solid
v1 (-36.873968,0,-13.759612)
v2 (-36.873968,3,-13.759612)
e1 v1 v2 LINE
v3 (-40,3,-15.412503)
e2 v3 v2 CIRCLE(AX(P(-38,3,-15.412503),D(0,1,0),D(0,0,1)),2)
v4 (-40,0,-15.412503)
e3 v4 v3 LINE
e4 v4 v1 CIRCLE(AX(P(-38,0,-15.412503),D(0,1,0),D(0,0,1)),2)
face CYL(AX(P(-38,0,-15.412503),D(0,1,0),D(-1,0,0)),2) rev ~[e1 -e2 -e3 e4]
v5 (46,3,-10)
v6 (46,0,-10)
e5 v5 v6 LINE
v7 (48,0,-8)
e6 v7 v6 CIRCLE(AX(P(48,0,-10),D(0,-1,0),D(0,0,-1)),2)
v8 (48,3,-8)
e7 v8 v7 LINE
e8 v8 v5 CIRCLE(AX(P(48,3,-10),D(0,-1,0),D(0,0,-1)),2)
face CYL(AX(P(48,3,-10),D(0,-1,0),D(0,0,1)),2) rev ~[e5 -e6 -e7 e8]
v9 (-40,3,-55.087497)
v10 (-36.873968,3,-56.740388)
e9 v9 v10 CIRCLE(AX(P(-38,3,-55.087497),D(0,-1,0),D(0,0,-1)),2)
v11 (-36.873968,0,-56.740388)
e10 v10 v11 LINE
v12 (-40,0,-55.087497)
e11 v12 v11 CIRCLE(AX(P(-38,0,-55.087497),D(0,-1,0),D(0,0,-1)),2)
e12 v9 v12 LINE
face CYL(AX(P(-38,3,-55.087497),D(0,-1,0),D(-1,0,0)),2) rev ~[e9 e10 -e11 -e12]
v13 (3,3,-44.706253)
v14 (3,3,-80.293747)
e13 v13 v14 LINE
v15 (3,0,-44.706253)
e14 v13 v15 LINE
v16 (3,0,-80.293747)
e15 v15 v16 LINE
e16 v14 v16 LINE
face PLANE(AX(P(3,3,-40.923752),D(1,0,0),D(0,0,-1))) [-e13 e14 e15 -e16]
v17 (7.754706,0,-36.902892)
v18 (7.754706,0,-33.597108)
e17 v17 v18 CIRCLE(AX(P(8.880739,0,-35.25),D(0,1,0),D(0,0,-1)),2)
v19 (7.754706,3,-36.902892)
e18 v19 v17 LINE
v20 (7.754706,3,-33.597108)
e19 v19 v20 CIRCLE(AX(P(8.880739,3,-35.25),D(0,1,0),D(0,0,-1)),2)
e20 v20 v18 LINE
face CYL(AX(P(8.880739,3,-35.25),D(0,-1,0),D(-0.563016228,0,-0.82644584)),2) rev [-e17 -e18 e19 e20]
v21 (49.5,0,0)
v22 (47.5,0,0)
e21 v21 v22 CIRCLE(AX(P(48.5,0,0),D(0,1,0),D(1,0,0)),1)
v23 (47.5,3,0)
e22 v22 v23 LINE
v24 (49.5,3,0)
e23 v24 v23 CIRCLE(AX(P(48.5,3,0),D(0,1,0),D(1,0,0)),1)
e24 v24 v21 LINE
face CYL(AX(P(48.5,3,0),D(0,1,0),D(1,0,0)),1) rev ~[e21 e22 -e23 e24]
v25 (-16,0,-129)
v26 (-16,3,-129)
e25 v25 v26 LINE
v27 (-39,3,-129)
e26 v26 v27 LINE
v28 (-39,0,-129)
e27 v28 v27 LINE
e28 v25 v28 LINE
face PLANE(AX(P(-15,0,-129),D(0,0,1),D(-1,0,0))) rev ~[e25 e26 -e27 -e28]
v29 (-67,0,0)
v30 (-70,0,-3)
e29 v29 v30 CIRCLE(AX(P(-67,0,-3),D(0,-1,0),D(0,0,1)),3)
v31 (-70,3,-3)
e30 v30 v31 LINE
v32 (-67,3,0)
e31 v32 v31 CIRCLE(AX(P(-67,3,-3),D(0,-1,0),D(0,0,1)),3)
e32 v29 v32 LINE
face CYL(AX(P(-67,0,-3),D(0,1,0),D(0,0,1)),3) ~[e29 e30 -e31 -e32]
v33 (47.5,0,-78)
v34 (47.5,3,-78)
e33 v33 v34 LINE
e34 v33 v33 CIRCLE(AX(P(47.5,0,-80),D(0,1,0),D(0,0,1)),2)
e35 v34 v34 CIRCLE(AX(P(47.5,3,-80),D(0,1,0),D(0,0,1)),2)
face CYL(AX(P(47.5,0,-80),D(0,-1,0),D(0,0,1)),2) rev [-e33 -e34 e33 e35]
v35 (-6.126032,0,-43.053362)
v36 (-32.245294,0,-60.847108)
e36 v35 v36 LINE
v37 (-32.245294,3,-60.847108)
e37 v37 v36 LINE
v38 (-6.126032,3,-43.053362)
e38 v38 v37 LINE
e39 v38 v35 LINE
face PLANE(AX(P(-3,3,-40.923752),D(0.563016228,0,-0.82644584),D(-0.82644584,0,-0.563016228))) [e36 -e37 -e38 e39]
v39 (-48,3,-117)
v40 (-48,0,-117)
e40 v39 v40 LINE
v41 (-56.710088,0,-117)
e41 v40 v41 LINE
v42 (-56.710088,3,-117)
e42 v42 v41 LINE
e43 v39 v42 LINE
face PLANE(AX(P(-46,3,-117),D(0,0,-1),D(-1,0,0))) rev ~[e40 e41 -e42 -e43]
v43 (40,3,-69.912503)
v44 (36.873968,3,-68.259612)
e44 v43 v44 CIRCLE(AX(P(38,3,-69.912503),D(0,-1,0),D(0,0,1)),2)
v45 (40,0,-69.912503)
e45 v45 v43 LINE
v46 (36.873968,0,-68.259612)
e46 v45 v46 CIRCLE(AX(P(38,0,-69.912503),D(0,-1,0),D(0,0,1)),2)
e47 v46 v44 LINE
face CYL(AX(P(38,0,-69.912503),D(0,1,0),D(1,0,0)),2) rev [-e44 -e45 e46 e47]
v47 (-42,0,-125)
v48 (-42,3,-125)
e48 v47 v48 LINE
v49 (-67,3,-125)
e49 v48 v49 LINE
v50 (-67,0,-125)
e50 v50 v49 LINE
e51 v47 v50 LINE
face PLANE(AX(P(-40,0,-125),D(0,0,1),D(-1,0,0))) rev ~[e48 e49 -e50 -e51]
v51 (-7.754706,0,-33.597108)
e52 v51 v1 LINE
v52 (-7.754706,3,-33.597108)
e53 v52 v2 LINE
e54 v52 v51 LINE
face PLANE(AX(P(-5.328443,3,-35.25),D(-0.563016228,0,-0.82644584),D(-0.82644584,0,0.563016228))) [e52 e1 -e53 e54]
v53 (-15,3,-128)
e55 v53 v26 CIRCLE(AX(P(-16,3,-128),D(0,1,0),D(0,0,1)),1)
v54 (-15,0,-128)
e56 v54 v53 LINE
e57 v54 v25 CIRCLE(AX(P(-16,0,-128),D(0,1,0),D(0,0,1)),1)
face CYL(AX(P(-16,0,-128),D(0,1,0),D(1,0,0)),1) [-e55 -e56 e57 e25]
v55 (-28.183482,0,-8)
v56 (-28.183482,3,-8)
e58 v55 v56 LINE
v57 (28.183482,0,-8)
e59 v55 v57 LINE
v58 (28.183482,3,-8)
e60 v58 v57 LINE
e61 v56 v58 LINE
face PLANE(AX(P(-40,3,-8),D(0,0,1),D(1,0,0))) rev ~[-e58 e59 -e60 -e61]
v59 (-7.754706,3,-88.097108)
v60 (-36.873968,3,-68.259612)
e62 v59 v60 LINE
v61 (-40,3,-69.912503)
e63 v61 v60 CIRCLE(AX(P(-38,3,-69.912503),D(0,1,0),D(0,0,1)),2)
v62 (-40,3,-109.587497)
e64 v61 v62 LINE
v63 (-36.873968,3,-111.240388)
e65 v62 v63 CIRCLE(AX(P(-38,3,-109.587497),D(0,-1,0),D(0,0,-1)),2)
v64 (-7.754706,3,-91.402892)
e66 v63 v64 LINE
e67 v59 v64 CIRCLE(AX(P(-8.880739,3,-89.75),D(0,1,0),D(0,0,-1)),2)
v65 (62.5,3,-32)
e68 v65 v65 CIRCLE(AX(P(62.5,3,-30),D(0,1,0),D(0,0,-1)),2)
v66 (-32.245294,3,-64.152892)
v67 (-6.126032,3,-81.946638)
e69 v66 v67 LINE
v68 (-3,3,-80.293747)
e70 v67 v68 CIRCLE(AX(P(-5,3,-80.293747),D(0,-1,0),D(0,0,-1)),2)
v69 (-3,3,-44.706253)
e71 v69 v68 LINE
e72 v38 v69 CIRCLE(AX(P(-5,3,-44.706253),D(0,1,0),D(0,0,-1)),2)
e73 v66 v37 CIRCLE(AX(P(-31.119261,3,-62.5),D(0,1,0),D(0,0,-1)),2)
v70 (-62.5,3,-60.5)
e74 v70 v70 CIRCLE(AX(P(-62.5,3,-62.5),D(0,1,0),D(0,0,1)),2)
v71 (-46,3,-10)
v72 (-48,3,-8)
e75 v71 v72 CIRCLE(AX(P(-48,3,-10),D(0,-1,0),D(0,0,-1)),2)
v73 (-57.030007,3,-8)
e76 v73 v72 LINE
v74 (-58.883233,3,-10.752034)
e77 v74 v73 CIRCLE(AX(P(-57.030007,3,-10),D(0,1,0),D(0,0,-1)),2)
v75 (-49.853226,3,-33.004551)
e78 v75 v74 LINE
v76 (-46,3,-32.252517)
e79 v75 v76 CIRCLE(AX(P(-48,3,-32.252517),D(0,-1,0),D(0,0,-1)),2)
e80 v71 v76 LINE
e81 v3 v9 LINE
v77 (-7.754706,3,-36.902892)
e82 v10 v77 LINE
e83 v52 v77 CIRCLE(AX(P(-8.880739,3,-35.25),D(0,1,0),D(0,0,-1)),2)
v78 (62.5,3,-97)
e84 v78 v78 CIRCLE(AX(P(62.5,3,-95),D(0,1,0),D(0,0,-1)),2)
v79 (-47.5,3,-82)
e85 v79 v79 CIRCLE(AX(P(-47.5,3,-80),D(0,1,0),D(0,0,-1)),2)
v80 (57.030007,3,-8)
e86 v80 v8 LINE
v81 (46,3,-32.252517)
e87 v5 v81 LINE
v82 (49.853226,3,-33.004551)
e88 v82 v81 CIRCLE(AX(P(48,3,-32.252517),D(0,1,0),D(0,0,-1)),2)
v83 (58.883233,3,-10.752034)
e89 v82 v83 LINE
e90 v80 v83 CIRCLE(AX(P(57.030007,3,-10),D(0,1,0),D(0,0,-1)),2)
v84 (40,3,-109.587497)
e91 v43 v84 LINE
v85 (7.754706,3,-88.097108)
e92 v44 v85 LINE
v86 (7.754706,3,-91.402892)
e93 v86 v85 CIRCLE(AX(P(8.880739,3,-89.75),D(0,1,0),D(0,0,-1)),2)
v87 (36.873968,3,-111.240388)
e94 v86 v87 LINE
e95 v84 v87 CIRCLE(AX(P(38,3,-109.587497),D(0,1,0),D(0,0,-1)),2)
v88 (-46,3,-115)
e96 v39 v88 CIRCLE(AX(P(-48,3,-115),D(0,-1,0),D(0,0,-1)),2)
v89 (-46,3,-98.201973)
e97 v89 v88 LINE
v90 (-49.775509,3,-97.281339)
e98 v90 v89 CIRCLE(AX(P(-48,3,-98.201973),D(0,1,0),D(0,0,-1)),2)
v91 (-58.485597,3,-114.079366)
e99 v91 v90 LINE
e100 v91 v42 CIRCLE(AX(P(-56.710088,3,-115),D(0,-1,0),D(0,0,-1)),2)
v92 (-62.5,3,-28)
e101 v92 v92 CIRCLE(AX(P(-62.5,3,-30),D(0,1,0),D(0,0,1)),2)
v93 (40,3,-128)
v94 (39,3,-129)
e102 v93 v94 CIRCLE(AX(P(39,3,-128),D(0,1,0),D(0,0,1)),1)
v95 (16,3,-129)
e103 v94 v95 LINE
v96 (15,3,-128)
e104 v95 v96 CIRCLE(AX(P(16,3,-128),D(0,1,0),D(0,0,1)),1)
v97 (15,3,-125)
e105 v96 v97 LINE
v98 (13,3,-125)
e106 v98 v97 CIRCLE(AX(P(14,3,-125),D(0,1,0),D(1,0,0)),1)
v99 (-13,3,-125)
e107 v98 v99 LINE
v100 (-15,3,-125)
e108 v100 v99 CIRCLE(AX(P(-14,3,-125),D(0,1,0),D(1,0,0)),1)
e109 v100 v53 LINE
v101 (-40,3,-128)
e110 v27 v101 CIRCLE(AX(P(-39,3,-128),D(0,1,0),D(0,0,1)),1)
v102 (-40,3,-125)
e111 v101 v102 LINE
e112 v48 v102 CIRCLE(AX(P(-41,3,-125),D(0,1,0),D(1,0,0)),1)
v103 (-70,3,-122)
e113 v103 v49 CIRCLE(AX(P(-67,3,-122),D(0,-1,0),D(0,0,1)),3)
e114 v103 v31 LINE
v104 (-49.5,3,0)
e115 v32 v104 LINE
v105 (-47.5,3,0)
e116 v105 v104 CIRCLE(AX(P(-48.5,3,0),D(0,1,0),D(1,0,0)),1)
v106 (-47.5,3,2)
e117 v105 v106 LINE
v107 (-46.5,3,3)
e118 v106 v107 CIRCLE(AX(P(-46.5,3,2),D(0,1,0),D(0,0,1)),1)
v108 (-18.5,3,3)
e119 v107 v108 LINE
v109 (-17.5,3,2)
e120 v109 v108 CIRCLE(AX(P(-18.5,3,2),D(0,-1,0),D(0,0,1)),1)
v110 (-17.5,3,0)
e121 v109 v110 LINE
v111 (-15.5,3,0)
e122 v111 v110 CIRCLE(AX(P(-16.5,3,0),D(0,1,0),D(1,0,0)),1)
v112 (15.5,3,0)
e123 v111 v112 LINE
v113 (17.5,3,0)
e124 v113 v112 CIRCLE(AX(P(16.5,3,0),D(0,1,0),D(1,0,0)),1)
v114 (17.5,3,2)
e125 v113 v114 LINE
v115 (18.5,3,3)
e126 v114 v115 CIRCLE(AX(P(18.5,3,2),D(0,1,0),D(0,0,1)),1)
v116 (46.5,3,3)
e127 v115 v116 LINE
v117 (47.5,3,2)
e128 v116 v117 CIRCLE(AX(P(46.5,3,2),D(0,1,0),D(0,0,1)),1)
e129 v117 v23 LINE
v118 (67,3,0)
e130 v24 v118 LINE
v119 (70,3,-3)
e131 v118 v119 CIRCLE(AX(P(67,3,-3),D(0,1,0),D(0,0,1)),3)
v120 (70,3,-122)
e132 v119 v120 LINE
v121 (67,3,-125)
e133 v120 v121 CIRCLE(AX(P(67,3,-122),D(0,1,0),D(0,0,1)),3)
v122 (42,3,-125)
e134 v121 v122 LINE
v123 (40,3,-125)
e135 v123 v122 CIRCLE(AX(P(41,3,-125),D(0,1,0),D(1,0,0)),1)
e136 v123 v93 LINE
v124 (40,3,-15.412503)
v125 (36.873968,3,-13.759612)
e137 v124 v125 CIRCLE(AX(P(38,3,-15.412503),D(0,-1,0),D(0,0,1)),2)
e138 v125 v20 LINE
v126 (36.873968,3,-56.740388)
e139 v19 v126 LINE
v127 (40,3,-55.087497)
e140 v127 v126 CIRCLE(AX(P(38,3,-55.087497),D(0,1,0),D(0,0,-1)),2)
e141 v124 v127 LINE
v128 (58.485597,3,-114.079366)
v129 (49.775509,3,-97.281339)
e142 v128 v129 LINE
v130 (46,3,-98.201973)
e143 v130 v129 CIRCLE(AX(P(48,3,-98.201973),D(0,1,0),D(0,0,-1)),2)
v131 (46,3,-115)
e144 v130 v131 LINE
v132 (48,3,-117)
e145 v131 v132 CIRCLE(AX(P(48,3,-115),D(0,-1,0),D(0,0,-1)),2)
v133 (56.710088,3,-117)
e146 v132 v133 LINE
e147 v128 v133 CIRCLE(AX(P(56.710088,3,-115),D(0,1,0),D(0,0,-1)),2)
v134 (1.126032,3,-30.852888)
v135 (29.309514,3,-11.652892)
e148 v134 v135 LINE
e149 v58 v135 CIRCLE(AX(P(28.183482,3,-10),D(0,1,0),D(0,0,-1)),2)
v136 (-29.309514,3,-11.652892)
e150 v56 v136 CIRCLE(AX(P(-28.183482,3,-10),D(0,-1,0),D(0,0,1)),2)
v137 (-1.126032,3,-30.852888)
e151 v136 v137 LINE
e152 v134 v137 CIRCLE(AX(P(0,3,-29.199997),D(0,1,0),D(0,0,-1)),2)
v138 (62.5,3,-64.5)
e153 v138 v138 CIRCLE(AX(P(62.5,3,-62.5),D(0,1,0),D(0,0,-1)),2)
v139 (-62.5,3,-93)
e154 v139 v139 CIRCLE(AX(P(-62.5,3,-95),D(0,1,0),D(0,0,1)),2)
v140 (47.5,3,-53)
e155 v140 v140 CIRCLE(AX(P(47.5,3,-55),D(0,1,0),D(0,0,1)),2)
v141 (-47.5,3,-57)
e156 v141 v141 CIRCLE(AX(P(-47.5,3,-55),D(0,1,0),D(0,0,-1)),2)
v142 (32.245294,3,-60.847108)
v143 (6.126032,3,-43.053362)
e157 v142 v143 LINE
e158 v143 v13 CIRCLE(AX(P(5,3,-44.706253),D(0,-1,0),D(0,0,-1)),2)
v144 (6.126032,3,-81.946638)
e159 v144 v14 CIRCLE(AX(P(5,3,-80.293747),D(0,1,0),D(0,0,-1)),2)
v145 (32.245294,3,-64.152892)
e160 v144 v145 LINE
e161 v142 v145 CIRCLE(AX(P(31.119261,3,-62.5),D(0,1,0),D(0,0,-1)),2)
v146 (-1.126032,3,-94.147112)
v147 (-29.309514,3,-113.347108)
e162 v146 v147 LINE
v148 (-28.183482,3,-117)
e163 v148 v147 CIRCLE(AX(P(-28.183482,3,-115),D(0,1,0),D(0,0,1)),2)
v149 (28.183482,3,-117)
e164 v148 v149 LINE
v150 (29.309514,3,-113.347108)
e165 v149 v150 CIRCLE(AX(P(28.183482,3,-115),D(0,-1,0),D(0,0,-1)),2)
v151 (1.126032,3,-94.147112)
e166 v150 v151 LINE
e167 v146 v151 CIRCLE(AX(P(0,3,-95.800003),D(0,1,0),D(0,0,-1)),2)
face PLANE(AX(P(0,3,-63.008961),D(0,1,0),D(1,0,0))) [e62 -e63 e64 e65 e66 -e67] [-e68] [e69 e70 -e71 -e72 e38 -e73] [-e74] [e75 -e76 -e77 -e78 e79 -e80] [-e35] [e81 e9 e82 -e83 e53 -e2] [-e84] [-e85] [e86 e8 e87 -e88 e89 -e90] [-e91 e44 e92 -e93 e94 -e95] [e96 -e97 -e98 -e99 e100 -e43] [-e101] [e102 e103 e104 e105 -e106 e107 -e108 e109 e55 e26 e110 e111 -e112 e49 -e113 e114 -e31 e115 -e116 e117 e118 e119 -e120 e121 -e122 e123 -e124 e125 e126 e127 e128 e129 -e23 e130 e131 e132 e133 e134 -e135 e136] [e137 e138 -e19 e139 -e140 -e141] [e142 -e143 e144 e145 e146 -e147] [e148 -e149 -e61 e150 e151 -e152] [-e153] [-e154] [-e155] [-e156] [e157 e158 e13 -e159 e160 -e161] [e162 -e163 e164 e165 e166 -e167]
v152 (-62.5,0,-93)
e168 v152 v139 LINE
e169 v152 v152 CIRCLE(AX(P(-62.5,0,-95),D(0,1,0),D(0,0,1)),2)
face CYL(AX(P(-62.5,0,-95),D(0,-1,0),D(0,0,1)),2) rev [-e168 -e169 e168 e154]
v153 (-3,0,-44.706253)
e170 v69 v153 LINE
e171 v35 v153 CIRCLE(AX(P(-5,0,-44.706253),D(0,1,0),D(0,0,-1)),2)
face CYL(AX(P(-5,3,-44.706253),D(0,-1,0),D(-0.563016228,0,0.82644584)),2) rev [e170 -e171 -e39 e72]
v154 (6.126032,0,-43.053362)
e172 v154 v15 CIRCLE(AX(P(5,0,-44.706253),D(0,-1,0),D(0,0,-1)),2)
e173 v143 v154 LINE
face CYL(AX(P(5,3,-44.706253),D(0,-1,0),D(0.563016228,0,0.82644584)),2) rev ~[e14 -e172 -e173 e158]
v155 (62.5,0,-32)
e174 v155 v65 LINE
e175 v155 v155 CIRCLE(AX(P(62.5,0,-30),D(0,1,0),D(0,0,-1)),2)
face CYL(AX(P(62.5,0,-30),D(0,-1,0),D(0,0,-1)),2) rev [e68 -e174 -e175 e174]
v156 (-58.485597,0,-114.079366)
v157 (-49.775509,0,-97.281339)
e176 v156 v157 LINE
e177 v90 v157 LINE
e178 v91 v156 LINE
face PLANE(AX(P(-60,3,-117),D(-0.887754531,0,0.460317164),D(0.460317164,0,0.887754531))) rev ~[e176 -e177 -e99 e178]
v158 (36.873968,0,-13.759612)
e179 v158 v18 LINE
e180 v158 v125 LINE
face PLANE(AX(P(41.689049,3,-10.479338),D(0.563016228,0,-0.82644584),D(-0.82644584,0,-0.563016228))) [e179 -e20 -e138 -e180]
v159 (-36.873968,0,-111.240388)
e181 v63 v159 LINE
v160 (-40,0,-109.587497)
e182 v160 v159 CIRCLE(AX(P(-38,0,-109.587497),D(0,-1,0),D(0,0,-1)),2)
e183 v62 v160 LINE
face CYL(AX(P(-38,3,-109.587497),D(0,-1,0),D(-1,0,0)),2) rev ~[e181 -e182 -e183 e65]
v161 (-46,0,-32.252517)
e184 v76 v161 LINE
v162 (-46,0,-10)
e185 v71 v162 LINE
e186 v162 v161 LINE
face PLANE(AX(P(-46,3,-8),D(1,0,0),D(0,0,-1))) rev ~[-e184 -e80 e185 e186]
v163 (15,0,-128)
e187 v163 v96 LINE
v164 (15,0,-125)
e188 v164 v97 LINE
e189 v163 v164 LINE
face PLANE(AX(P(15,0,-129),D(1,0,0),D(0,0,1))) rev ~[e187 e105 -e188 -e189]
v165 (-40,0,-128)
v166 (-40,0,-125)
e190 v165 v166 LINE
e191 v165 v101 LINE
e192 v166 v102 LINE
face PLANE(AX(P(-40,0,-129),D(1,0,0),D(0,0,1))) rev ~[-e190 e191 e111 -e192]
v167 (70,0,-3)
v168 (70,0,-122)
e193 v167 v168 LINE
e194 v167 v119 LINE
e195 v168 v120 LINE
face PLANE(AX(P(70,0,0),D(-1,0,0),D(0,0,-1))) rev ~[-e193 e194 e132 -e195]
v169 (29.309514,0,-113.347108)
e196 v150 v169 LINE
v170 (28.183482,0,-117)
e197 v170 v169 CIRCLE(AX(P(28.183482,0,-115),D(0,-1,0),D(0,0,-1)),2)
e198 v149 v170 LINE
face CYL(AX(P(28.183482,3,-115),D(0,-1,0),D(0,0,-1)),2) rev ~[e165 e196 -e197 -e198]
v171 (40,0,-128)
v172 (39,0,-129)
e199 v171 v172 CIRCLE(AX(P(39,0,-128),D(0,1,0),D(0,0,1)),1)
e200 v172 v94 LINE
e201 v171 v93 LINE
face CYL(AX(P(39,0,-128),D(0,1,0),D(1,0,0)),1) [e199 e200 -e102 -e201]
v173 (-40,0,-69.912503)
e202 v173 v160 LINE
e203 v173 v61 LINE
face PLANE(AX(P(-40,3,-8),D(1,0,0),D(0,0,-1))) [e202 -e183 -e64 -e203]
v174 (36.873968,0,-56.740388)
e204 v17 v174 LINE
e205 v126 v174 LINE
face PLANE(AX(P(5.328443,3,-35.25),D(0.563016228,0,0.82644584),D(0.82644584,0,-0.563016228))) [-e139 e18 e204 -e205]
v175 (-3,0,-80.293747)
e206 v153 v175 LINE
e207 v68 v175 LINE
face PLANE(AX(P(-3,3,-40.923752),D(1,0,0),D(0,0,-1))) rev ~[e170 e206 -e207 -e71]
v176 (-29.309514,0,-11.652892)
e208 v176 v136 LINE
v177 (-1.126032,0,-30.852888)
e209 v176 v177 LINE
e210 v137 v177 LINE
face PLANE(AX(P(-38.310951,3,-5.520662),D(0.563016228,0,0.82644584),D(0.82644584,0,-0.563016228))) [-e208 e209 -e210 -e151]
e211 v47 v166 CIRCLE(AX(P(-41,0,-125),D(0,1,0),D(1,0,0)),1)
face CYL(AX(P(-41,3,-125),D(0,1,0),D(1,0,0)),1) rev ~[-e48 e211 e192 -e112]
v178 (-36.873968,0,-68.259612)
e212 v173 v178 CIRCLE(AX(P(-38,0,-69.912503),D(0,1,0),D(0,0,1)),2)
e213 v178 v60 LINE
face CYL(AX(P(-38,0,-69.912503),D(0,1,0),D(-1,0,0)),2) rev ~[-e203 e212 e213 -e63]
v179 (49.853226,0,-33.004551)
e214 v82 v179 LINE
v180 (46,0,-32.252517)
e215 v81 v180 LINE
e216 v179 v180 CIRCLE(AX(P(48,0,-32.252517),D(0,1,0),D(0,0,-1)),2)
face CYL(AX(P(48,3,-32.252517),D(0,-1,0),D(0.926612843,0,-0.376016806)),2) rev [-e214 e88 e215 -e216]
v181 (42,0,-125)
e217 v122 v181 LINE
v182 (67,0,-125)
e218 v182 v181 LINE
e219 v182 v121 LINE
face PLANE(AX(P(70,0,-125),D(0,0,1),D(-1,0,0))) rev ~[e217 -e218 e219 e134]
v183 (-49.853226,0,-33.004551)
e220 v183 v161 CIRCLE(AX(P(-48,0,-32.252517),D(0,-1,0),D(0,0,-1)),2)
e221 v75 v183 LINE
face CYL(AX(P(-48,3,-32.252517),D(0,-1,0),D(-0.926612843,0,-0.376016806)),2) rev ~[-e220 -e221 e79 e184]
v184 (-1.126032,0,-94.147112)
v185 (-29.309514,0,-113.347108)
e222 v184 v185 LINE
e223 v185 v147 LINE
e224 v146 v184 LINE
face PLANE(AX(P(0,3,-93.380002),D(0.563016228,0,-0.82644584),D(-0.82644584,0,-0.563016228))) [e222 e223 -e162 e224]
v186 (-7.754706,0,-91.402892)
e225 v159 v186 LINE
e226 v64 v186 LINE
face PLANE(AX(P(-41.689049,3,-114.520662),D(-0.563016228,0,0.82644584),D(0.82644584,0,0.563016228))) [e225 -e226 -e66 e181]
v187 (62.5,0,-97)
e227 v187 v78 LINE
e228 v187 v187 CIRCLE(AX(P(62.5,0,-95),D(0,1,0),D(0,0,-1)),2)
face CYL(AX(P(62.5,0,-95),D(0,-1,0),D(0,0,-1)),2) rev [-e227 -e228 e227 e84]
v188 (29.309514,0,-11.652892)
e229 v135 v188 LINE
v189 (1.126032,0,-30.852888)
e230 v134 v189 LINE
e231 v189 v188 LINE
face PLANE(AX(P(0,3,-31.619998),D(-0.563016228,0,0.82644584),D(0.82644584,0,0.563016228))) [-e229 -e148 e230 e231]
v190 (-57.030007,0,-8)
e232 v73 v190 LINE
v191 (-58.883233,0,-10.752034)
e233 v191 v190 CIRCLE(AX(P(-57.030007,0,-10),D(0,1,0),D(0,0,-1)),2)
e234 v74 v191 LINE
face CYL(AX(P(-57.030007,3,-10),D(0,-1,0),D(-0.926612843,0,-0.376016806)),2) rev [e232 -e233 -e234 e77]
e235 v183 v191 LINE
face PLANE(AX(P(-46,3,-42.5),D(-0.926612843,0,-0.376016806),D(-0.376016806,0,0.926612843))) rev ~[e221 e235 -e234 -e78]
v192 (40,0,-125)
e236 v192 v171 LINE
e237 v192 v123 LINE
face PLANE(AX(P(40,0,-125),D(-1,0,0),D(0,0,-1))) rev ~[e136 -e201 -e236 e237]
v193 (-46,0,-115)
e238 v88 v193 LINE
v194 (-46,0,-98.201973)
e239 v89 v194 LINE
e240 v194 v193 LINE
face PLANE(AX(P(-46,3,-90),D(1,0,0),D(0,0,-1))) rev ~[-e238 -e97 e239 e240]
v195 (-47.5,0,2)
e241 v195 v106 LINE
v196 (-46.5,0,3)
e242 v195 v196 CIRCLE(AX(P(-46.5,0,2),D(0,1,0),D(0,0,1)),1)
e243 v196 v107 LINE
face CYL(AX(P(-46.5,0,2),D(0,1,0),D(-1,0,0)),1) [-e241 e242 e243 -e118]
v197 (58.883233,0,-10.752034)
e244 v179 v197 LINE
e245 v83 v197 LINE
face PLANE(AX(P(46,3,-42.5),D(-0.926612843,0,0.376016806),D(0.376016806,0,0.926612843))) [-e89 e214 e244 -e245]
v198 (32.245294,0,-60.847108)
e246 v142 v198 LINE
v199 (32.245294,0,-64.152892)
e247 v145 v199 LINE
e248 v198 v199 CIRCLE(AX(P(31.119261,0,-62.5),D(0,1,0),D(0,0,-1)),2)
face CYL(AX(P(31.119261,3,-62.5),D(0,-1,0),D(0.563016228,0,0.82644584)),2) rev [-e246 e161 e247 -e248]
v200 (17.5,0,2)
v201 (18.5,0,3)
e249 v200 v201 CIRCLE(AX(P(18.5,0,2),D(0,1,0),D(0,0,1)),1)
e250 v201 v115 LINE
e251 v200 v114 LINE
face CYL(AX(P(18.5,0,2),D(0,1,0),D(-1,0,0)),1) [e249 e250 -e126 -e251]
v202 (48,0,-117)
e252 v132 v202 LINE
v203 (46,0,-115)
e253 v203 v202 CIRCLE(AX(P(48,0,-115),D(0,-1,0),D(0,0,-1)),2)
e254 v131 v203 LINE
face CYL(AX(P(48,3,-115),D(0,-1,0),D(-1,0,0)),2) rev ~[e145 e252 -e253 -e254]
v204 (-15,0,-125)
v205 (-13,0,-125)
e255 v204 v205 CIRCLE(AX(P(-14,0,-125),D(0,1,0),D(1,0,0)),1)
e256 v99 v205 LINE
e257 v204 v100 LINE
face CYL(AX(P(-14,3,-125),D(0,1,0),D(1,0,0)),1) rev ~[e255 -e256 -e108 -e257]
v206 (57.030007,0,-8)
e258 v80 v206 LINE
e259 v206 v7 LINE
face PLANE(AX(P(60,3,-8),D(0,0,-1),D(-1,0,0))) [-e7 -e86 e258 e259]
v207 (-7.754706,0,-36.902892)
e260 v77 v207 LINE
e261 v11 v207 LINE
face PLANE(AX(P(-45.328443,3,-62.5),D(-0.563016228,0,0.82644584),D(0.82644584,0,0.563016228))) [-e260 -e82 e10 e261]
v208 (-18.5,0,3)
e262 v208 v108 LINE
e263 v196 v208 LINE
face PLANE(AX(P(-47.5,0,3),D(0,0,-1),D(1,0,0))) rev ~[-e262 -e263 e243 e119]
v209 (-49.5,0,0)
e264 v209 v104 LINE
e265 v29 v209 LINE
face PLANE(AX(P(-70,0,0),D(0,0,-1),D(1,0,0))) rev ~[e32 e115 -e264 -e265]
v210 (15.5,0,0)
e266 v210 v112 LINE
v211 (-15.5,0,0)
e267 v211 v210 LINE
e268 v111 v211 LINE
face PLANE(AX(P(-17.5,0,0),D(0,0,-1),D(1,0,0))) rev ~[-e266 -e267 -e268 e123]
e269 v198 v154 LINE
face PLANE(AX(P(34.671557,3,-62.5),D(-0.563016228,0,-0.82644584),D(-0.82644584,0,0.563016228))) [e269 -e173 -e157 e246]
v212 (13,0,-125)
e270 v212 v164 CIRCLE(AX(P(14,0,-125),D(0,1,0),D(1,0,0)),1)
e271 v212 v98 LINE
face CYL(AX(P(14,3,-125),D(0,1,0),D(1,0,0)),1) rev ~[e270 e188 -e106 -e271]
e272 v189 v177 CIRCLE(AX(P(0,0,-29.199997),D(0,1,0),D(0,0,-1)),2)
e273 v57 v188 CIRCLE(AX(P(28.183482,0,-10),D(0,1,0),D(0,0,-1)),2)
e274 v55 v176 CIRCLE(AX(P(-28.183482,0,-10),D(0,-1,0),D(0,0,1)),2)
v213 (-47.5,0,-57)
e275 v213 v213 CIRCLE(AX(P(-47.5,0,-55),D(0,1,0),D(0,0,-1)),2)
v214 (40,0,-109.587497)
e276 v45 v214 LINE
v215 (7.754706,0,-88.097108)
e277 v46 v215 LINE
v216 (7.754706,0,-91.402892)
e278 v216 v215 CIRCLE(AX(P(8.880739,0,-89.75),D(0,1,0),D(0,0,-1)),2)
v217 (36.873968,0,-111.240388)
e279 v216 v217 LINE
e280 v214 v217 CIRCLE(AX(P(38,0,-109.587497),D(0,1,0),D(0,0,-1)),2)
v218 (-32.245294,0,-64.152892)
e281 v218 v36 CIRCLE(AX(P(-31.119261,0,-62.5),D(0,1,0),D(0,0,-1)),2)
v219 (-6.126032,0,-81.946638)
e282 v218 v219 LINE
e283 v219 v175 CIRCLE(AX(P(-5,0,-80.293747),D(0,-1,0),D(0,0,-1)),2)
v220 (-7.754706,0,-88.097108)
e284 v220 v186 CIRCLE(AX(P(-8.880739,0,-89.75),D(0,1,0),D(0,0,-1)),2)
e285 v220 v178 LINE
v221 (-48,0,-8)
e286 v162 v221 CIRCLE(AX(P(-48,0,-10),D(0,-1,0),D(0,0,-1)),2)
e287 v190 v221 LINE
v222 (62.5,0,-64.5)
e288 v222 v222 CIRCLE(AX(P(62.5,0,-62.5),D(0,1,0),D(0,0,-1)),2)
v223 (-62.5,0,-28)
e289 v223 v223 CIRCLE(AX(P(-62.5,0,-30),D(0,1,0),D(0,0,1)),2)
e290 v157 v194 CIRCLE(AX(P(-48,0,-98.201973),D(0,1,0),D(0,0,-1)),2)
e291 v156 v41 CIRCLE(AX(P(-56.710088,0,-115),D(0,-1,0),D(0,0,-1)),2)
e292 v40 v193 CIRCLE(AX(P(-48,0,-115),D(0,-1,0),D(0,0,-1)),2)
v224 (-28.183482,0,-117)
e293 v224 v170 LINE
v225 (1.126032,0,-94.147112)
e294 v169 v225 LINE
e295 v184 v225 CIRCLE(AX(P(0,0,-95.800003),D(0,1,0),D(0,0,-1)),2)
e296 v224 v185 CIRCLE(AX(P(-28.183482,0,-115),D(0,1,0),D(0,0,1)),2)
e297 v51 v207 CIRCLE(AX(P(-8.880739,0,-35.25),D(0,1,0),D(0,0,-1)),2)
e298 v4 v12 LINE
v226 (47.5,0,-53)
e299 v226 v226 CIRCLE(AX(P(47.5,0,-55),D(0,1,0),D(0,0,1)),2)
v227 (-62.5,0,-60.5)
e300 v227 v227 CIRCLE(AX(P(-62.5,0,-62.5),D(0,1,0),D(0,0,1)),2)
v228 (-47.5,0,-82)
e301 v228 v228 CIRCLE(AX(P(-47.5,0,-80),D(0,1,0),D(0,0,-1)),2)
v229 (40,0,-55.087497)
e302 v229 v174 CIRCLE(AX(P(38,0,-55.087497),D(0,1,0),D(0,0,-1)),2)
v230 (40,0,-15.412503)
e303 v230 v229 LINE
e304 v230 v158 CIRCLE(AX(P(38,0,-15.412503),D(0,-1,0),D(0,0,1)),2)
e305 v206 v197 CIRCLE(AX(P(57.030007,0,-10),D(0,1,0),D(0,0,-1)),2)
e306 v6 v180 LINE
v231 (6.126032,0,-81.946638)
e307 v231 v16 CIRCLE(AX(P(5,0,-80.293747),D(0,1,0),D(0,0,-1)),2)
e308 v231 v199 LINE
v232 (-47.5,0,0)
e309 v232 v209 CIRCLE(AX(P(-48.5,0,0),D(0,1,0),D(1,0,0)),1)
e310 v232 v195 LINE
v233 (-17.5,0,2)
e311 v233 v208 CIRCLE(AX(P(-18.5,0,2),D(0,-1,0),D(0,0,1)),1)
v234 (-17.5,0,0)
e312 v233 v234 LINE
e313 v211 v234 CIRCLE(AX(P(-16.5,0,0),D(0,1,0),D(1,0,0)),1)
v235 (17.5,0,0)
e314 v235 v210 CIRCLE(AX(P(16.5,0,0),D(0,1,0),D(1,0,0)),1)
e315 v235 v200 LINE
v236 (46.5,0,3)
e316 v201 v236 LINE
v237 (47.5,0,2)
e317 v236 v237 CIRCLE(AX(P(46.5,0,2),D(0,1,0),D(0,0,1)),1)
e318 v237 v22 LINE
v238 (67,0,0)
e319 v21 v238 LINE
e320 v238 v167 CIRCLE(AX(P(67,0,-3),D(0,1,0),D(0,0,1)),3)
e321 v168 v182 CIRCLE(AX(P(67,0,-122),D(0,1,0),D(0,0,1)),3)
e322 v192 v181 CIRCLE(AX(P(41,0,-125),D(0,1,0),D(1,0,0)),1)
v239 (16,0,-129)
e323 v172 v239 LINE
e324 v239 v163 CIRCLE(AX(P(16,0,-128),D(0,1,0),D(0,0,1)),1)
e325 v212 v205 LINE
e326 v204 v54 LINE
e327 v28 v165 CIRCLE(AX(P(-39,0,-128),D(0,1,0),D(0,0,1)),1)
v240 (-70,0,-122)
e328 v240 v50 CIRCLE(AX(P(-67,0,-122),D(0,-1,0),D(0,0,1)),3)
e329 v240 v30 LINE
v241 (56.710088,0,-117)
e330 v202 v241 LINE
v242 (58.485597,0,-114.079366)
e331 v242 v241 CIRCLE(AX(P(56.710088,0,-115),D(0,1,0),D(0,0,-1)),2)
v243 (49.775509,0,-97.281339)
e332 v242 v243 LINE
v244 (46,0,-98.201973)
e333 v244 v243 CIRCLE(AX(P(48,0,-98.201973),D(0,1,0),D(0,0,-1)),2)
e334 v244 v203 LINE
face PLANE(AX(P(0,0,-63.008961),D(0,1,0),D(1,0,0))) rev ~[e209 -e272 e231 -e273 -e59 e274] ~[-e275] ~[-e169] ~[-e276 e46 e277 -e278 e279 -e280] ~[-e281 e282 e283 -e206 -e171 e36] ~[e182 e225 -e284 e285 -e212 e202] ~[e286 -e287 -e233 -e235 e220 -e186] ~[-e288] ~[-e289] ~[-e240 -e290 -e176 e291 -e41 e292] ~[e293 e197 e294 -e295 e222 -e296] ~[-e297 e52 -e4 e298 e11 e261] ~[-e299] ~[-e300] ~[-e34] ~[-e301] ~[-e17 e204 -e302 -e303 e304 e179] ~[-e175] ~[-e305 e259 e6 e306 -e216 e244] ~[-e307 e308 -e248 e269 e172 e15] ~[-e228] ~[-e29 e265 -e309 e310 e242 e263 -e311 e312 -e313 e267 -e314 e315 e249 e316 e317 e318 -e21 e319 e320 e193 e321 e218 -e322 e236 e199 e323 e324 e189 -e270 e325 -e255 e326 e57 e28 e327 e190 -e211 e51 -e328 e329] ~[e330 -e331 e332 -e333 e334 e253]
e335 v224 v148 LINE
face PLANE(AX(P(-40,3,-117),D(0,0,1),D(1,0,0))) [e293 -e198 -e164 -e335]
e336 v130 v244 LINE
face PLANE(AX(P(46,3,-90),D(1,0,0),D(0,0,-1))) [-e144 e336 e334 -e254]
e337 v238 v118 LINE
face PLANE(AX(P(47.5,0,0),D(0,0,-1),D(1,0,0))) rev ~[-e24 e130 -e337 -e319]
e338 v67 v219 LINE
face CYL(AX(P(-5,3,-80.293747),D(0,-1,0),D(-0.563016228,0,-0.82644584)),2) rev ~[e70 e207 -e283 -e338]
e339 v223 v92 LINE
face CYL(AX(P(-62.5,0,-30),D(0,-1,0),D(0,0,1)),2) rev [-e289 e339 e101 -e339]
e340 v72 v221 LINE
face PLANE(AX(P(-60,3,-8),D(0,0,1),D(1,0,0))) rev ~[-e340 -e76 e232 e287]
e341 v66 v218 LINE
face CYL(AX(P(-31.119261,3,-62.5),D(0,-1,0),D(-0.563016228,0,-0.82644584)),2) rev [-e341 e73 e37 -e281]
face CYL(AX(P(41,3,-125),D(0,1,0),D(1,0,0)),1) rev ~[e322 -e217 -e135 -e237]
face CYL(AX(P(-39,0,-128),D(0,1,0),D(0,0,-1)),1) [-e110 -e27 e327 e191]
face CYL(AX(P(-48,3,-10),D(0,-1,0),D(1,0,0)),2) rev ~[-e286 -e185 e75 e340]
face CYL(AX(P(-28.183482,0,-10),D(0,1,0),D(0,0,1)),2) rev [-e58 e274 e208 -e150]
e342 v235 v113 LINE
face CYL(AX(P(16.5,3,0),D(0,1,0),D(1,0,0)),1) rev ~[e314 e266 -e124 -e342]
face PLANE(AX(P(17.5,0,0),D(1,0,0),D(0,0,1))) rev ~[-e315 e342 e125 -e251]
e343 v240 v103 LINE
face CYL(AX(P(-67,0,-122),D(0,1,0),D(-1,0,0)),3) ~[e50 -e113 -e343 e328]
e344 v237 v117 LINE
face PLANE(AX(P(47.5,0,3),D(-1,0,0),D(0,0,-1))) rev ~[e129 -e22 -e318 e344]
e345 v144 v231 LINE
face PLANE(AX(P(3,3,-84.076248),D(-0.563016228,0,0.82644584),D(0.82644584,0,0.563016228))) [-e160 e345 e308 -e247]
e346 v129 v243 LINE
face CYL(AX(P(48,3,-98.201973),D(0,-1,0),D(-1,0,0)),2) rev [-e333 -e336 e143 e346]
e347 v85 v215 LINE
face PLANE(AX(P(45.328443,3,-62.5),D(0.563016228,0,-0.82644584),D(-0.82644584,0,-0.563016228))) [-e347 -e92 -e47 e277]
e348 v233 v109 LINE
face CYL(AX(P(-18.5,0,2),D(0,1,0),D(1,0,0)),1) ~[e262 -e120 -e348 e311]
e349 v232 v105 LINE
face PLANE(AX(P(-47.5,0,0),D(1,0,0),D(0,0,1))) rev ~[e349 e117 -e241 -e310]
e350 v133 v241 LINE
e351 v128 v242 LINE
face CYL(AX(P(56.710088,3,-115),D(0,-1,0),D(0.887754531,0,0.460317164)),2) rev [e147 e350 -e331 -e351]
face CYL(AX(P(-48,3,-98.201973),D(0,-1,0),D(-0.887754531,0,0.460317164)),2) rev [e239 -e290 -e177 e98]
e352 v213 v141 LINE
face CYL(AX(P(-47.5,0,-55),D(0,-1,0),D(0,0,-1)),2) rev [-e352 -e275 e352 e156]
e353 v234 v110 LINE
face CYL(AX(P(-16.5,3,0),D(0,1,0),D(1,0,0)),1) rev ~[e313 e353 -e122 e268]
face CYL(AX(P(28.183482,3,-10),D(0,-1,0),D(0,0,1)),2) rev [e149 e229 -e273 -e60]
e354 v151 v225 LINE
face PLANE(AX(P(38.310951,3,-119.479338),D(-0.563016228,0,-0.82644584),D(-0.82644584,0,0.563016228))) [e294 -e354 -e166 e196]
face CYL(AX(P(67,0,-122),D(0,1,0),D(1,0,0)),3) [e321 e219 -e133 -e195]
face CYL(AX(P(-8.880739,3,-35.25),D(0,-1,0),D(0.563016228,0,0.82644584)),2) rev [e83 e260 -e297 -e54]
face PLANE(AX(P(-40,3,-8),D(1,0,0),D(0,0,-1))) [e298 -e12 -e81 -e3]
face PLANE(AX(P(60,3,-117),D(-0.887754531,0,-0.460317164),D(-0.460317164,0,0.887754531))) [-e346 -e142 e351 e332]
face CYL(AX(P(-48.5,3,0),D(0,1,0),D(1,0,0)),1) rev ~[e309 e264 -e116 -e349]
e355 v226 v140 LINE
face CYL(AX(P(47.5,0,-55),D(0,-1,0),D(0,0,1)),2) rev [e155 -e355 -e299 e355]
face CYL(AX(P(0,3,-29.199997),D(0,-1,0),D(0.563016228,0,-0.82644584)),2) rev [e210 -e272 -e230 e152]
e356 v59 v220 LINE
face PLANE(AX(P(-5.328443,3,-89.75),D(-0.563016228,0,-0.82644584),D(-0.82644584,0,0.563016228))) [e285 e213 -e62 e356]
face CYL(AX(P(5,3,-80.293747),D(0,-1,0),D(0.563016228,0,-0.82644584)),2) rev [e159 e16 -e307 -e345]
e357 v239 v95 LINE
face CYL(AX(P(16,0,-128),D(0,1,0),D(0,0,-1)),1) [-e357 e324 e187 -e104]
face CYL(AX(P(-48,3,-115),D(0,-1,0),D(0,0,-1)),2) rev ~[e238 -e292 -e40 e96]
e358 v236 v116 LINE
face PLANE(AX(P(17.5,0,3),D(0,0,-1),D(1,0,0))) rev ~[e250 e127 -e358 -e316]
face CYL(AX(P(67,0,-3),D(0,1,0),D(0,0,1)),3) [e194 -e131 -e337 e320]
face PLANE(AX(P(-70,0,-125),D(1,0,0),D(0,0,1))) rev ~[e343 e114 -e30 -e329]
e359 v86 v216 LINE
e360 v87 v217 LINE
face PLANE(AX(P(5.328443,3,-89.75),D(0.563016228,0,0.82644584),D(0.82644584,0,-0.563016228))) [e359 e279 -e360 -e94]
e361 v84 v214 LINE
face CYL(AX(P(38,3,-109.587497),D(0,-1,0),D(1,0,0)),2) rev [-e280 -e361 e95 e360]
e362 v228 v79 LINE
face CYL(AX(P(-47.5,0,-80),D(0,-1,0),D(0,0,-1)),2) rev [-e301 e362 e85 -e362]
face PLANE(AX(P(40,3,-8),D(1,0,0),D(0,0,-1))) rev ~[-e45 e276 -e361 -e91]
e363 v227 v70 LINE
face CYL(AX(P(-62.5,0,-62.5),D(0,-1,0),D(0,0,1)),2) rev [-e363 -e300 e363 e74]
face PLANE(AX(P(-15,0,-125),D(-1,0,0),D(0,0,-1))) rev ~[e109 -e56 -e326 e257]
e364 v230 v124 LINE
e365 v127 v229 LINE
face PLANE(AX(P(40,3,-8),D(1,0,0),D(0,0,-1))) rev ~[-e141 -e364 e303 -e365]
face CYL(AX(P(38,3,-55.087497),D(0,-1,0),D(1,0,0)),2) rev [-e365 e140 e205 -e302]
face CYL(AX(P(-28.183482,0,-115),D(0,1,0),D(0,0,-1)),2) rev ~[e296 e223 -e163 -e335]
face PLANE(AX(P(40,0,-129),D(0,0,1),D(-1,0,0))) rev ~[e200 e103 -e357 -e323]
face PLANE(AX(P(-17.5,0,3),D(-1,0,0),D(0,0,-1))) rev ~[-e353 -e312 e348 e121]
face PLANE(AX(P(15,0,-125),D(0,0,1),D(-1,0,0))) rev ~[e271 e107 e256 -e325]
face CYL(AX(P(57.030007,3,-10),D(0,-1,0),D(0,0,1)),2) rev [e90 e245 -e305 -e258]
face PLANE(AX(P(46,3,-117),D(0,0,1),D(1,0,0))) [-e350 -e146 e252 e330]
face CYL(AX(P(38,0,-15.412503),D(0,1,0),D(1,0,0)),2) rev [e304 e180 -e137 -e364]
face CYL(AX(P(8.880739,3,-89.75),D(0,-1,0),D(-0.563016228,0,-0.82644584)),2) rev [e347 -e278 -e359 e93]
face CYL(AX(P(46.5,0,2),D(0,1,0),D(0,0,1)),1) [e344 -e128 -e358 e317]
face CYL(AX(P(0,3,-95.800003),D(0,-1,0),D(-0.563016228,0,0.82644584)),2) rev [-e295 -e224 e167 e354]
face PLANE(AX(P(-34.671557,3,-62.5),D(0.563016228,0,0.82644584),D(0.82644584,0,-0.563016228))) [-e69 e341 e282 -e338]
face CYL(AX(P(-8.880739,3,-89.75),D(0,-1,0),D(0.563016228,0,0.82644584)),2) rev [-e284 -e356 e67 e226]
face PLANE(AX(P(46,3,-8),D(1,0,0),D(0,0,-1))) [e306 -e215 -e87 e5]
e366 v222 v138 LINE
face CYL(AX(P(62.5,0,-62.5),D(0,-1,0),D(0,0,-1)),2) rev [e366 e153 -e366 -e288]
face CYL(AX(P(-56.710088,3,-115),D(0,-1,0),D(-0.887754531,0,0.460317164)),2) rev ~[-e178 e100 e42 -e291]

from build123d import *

# Parameters (mm, degrees)
SKETCH_1_R          = 2
EXTRUDE_1_DEPTH     = 3
SKETCH_3_W          = 80
SKETCH_3_H          = 109
CUT_EXTRUDE_2_DEPTH = 147.799182559
SKETCH_2_R          = 1
CUT_EXTRUDE_1_DEPTH = 147.799182559
SKETCH_5_W          = 6
SKETCH_5_H          = 54.5
EXTRUDE_1_2_DEPTH   = 3
FILLET_1_R          = 2
FILLET_2_R          = 1
FILLET_3_R          = 3


with BuildPart() as part:
    # 草图1 → Extrude 1 (new body)
    with BuildSketch(Plane(origin=(0, 0, 0), x_dir=(1, 0, 0), z_dir=(0, 1, 0))):
        Polygon((-17.5, 0), (17.5, 0), (17.5, -3), (47.5, -3), (47.5, 0), (70, 0), (70, 125), (40, 125), (40, 129), (15, 129), (15, 125), (-15, 125), (-15, 129), (-40, 129), (-40, 125), (-70, 125), (-70, 0), (-47.5, 0), (-47.5, -3), (-17.5, -3), align=None)
        with Locations(Location((47.5, 80, 0), (0, 0, 270))):
            Circle(SKETCH_1_R, mode=Mode.SUBTRACT)
        with Locations(Location((47.5, 55, 0), (0, 0, 270))):
            Circle(SKETCH_1_R, mode=Mode.SUBTRACT)
        with Locations(Location((-47.5, 55, 0), (0, 0, 90))):
            Circle(SKETCH_1_R, mode=Mode.SUBTRACT)
        with Locations(Location((-47.5, 80, 0), (0, 0, 90))):
            Circle(SKETCH_1_R, mode=Mode.SUBTRACT)
        with Locations(Location((-62.5, 30, 0), (0, 0, 270))):
            Circle(SKETCH_1_R, mode=Mode.SUBTRACT)
        with Locations(Location((-62.5, 62.5, 0), (0, 0, 270))):
            Circle(SKETCH_1_R, mode=Mode.SUBTRACT)
        with Locations(Location((-62.5, 95, 0), (0, 0, 270))):
            Circle(SKETCH_1_R, mode=Mode.SUBTRACT)
        with Locations(Location((62.5, 95, 0), (0, 0, 90))):
            Circle(SKETCH_1_R, mode=Mode.SUBTRACT)
        with Locations(Location((62.5, 62.5, 0), (0, 0, 90))):
            Circle(SKETCH_1_R, mode=Mode.SUBTRACT)
        with Locations(Location((62.5, 30, 0), (0, 0, 90))):
            Circle(SKETCH_1_R, mode=Mode.SUBTRACT)
    extrude(amount=EXTRUDE_1_DEPTH)

    # 草图3 → 切除-拉伸2 (cut, through all)
    with BuildSketch(Plane(origin=(0, 3, 0), x_dir=(1, 0, 0), z_dir=(0, 1, 0))):
        Polygon((-60, 117), (-46, 90), (-46, 117), align=None)
        Polygon((46, 8), (46, 42.5), (60, 8), align=None)
        with Locations((0, 62.5)):
            Rectangle(SKETCH_3_W, SKETCH_3_H)
        Polygon((-46, 42.5), (-60, 8), (-46, 8), align=None)
        Polygon((46, 117), (60, 117), (46, 90), align=None)
    extrude(amount=-CUT_EXTRUDE_2_DEPTH, mode=Mode.SUBTRACT)

    # 草图2 → 切除-拉伸1 (cut, through all)
    with BuildSketch(Plane(origin=(0, 3, 0), x_dir=(1, 0, 0), z_dir=(0, 1, 0))):
        with Locations((-48.5, 0)):
            Circle(SKETCH_2_R)
        with Locations((-16.5, 0)):
            Circle(SKETCH_2_R)
        with Locations((16.5, 0)):
            Circle(SKETCH_2_R)
        with Locations((14, 125)):
            Circle(SKETCH_2_R)
        with Locations((-41, 125)):
            Circle(SKETCH_2_R)
        with Locations((-14, 125)):
            Circle(SKETCH_2_R)
        with Locations((41, 125)):
            Circle(SKETCH_2_R)
        with Locations((48.5, 0)):
            Circle(SKETCH_2_R)
    extrude(amount=-CUT_EXTRUDE_1_DEPTH, mode=Mode.SUBTRACT)

    # 草图5 → Extrude 1 2 (add)
    with BuildSketch(Plane(origin=(0, 3, 0), x_dir=(1, 0, 0), z_dir=(0, 1, 0))):
        Polygon((-41.689048685, 114.52066248), (34.67155679, 62.5), (-41.689048685, 10.47933752), (-38.310951315, 5.52066248), (45.32844321, 62.5), (-38.310951315, 119.47933752), align=None)
        Polygon((41.689048685, 10.47933752), (-34.67155679, 62.5), (41.689048685, 114.52066248), (38.310951315, 119.47933752), (-45.32844321, 62.5), (38.310951315, 5.52066248), align=None)
        with Locations((0, 62.5)):
            Rectangle(SKETCH_5_W, SKETCH_5_H)
    extrude(amount=-EXTRUDE_1_2_DEPTH)

    # 圆角1
    fillet_1_edges = [part.edges().sort_by_distance(p)[0] for p in [
        (46, 1.5, -90),
        (46, 1.5, -117),
        (60, 1.5, -117),
        (60, 1.5, -8),
        (46, 1.5, -8),
        (46, 1.5, -42.5),
        (-46, 1.5, -42.5),
        (-46, 1.5, -8),
        (-60, 1.5, -8),
        (-60, 1.5, -117),
        (-46, 1.5, -117),
        (-46, 1.5, -90),
        (34.67155679, 1.5, -8),
        (-34.67155679, 1.5, -8),
        (40, 1.5, -11.630001937),
        (40, 1.5, -113.369998063),
        (40, 1.5, -66.130001937),
        (40, 1.5, -58.869998063),
        (34.67155679, 1.5, -117),
        (-34.67155679, 1.5, -117),
        (-40, 1.5, -11.630001937),
        (-40, 1.5, -113.369998063),
        (-40, 1.5, -58.869998063),
        (-40, 1.5, -66.130001937),
        (-5.32844321, 1.5, -89.75),
        (-5.32844321, 1.5, -35.25),
        (0, 1.5, -93.380001937),
        (5.32844321, 1.5, -35.25),
        (5.32844321, 1.5, -89.75),
        (0, 1.5, -31.619998063),
        (3, 1.5, -84.076248063),
        (34.67155679, 1.5, -62.5),
        (3, 1.5, -40.923751937),
        (-34.67155679, 1.5, -62.5),
        (-3, 1.5, -40.923751937),
        (-3, 1.5, -84.076248063),
    ]]
    fillet(fillet_1_edges, radius=FILLET_1_R)

    # 圆角2
    fillet_2_edges = [part.edges().sort_by_distance(p)[0] for p in [
        (47.5, 1.5, 3),
        (17.5, 1.5, 3),
        (-17.5, 1.5, 3),
        (-47.5, 1.5, 3),
        (-40, 1.5, -129),
        (-15, 1.5, -129),
        (15, 1.5, -129),
        (40, 1.5, -129),
    ]]
    fillet(fillet_2_edges, radius=FILLET_2_R)

    # 圆角3
    fillet_3_edges = [part.edges().sort_by_distance(p)[0] for p in [
        (70, 1.5, -125),
        (70, 1.5, 0),
        (-70, 1.5, 0),
        (-70, 1.5, -125),
    ]]
    fillet(fillet_3_edges, radius=FILLET_3_R)


solid = part.part
